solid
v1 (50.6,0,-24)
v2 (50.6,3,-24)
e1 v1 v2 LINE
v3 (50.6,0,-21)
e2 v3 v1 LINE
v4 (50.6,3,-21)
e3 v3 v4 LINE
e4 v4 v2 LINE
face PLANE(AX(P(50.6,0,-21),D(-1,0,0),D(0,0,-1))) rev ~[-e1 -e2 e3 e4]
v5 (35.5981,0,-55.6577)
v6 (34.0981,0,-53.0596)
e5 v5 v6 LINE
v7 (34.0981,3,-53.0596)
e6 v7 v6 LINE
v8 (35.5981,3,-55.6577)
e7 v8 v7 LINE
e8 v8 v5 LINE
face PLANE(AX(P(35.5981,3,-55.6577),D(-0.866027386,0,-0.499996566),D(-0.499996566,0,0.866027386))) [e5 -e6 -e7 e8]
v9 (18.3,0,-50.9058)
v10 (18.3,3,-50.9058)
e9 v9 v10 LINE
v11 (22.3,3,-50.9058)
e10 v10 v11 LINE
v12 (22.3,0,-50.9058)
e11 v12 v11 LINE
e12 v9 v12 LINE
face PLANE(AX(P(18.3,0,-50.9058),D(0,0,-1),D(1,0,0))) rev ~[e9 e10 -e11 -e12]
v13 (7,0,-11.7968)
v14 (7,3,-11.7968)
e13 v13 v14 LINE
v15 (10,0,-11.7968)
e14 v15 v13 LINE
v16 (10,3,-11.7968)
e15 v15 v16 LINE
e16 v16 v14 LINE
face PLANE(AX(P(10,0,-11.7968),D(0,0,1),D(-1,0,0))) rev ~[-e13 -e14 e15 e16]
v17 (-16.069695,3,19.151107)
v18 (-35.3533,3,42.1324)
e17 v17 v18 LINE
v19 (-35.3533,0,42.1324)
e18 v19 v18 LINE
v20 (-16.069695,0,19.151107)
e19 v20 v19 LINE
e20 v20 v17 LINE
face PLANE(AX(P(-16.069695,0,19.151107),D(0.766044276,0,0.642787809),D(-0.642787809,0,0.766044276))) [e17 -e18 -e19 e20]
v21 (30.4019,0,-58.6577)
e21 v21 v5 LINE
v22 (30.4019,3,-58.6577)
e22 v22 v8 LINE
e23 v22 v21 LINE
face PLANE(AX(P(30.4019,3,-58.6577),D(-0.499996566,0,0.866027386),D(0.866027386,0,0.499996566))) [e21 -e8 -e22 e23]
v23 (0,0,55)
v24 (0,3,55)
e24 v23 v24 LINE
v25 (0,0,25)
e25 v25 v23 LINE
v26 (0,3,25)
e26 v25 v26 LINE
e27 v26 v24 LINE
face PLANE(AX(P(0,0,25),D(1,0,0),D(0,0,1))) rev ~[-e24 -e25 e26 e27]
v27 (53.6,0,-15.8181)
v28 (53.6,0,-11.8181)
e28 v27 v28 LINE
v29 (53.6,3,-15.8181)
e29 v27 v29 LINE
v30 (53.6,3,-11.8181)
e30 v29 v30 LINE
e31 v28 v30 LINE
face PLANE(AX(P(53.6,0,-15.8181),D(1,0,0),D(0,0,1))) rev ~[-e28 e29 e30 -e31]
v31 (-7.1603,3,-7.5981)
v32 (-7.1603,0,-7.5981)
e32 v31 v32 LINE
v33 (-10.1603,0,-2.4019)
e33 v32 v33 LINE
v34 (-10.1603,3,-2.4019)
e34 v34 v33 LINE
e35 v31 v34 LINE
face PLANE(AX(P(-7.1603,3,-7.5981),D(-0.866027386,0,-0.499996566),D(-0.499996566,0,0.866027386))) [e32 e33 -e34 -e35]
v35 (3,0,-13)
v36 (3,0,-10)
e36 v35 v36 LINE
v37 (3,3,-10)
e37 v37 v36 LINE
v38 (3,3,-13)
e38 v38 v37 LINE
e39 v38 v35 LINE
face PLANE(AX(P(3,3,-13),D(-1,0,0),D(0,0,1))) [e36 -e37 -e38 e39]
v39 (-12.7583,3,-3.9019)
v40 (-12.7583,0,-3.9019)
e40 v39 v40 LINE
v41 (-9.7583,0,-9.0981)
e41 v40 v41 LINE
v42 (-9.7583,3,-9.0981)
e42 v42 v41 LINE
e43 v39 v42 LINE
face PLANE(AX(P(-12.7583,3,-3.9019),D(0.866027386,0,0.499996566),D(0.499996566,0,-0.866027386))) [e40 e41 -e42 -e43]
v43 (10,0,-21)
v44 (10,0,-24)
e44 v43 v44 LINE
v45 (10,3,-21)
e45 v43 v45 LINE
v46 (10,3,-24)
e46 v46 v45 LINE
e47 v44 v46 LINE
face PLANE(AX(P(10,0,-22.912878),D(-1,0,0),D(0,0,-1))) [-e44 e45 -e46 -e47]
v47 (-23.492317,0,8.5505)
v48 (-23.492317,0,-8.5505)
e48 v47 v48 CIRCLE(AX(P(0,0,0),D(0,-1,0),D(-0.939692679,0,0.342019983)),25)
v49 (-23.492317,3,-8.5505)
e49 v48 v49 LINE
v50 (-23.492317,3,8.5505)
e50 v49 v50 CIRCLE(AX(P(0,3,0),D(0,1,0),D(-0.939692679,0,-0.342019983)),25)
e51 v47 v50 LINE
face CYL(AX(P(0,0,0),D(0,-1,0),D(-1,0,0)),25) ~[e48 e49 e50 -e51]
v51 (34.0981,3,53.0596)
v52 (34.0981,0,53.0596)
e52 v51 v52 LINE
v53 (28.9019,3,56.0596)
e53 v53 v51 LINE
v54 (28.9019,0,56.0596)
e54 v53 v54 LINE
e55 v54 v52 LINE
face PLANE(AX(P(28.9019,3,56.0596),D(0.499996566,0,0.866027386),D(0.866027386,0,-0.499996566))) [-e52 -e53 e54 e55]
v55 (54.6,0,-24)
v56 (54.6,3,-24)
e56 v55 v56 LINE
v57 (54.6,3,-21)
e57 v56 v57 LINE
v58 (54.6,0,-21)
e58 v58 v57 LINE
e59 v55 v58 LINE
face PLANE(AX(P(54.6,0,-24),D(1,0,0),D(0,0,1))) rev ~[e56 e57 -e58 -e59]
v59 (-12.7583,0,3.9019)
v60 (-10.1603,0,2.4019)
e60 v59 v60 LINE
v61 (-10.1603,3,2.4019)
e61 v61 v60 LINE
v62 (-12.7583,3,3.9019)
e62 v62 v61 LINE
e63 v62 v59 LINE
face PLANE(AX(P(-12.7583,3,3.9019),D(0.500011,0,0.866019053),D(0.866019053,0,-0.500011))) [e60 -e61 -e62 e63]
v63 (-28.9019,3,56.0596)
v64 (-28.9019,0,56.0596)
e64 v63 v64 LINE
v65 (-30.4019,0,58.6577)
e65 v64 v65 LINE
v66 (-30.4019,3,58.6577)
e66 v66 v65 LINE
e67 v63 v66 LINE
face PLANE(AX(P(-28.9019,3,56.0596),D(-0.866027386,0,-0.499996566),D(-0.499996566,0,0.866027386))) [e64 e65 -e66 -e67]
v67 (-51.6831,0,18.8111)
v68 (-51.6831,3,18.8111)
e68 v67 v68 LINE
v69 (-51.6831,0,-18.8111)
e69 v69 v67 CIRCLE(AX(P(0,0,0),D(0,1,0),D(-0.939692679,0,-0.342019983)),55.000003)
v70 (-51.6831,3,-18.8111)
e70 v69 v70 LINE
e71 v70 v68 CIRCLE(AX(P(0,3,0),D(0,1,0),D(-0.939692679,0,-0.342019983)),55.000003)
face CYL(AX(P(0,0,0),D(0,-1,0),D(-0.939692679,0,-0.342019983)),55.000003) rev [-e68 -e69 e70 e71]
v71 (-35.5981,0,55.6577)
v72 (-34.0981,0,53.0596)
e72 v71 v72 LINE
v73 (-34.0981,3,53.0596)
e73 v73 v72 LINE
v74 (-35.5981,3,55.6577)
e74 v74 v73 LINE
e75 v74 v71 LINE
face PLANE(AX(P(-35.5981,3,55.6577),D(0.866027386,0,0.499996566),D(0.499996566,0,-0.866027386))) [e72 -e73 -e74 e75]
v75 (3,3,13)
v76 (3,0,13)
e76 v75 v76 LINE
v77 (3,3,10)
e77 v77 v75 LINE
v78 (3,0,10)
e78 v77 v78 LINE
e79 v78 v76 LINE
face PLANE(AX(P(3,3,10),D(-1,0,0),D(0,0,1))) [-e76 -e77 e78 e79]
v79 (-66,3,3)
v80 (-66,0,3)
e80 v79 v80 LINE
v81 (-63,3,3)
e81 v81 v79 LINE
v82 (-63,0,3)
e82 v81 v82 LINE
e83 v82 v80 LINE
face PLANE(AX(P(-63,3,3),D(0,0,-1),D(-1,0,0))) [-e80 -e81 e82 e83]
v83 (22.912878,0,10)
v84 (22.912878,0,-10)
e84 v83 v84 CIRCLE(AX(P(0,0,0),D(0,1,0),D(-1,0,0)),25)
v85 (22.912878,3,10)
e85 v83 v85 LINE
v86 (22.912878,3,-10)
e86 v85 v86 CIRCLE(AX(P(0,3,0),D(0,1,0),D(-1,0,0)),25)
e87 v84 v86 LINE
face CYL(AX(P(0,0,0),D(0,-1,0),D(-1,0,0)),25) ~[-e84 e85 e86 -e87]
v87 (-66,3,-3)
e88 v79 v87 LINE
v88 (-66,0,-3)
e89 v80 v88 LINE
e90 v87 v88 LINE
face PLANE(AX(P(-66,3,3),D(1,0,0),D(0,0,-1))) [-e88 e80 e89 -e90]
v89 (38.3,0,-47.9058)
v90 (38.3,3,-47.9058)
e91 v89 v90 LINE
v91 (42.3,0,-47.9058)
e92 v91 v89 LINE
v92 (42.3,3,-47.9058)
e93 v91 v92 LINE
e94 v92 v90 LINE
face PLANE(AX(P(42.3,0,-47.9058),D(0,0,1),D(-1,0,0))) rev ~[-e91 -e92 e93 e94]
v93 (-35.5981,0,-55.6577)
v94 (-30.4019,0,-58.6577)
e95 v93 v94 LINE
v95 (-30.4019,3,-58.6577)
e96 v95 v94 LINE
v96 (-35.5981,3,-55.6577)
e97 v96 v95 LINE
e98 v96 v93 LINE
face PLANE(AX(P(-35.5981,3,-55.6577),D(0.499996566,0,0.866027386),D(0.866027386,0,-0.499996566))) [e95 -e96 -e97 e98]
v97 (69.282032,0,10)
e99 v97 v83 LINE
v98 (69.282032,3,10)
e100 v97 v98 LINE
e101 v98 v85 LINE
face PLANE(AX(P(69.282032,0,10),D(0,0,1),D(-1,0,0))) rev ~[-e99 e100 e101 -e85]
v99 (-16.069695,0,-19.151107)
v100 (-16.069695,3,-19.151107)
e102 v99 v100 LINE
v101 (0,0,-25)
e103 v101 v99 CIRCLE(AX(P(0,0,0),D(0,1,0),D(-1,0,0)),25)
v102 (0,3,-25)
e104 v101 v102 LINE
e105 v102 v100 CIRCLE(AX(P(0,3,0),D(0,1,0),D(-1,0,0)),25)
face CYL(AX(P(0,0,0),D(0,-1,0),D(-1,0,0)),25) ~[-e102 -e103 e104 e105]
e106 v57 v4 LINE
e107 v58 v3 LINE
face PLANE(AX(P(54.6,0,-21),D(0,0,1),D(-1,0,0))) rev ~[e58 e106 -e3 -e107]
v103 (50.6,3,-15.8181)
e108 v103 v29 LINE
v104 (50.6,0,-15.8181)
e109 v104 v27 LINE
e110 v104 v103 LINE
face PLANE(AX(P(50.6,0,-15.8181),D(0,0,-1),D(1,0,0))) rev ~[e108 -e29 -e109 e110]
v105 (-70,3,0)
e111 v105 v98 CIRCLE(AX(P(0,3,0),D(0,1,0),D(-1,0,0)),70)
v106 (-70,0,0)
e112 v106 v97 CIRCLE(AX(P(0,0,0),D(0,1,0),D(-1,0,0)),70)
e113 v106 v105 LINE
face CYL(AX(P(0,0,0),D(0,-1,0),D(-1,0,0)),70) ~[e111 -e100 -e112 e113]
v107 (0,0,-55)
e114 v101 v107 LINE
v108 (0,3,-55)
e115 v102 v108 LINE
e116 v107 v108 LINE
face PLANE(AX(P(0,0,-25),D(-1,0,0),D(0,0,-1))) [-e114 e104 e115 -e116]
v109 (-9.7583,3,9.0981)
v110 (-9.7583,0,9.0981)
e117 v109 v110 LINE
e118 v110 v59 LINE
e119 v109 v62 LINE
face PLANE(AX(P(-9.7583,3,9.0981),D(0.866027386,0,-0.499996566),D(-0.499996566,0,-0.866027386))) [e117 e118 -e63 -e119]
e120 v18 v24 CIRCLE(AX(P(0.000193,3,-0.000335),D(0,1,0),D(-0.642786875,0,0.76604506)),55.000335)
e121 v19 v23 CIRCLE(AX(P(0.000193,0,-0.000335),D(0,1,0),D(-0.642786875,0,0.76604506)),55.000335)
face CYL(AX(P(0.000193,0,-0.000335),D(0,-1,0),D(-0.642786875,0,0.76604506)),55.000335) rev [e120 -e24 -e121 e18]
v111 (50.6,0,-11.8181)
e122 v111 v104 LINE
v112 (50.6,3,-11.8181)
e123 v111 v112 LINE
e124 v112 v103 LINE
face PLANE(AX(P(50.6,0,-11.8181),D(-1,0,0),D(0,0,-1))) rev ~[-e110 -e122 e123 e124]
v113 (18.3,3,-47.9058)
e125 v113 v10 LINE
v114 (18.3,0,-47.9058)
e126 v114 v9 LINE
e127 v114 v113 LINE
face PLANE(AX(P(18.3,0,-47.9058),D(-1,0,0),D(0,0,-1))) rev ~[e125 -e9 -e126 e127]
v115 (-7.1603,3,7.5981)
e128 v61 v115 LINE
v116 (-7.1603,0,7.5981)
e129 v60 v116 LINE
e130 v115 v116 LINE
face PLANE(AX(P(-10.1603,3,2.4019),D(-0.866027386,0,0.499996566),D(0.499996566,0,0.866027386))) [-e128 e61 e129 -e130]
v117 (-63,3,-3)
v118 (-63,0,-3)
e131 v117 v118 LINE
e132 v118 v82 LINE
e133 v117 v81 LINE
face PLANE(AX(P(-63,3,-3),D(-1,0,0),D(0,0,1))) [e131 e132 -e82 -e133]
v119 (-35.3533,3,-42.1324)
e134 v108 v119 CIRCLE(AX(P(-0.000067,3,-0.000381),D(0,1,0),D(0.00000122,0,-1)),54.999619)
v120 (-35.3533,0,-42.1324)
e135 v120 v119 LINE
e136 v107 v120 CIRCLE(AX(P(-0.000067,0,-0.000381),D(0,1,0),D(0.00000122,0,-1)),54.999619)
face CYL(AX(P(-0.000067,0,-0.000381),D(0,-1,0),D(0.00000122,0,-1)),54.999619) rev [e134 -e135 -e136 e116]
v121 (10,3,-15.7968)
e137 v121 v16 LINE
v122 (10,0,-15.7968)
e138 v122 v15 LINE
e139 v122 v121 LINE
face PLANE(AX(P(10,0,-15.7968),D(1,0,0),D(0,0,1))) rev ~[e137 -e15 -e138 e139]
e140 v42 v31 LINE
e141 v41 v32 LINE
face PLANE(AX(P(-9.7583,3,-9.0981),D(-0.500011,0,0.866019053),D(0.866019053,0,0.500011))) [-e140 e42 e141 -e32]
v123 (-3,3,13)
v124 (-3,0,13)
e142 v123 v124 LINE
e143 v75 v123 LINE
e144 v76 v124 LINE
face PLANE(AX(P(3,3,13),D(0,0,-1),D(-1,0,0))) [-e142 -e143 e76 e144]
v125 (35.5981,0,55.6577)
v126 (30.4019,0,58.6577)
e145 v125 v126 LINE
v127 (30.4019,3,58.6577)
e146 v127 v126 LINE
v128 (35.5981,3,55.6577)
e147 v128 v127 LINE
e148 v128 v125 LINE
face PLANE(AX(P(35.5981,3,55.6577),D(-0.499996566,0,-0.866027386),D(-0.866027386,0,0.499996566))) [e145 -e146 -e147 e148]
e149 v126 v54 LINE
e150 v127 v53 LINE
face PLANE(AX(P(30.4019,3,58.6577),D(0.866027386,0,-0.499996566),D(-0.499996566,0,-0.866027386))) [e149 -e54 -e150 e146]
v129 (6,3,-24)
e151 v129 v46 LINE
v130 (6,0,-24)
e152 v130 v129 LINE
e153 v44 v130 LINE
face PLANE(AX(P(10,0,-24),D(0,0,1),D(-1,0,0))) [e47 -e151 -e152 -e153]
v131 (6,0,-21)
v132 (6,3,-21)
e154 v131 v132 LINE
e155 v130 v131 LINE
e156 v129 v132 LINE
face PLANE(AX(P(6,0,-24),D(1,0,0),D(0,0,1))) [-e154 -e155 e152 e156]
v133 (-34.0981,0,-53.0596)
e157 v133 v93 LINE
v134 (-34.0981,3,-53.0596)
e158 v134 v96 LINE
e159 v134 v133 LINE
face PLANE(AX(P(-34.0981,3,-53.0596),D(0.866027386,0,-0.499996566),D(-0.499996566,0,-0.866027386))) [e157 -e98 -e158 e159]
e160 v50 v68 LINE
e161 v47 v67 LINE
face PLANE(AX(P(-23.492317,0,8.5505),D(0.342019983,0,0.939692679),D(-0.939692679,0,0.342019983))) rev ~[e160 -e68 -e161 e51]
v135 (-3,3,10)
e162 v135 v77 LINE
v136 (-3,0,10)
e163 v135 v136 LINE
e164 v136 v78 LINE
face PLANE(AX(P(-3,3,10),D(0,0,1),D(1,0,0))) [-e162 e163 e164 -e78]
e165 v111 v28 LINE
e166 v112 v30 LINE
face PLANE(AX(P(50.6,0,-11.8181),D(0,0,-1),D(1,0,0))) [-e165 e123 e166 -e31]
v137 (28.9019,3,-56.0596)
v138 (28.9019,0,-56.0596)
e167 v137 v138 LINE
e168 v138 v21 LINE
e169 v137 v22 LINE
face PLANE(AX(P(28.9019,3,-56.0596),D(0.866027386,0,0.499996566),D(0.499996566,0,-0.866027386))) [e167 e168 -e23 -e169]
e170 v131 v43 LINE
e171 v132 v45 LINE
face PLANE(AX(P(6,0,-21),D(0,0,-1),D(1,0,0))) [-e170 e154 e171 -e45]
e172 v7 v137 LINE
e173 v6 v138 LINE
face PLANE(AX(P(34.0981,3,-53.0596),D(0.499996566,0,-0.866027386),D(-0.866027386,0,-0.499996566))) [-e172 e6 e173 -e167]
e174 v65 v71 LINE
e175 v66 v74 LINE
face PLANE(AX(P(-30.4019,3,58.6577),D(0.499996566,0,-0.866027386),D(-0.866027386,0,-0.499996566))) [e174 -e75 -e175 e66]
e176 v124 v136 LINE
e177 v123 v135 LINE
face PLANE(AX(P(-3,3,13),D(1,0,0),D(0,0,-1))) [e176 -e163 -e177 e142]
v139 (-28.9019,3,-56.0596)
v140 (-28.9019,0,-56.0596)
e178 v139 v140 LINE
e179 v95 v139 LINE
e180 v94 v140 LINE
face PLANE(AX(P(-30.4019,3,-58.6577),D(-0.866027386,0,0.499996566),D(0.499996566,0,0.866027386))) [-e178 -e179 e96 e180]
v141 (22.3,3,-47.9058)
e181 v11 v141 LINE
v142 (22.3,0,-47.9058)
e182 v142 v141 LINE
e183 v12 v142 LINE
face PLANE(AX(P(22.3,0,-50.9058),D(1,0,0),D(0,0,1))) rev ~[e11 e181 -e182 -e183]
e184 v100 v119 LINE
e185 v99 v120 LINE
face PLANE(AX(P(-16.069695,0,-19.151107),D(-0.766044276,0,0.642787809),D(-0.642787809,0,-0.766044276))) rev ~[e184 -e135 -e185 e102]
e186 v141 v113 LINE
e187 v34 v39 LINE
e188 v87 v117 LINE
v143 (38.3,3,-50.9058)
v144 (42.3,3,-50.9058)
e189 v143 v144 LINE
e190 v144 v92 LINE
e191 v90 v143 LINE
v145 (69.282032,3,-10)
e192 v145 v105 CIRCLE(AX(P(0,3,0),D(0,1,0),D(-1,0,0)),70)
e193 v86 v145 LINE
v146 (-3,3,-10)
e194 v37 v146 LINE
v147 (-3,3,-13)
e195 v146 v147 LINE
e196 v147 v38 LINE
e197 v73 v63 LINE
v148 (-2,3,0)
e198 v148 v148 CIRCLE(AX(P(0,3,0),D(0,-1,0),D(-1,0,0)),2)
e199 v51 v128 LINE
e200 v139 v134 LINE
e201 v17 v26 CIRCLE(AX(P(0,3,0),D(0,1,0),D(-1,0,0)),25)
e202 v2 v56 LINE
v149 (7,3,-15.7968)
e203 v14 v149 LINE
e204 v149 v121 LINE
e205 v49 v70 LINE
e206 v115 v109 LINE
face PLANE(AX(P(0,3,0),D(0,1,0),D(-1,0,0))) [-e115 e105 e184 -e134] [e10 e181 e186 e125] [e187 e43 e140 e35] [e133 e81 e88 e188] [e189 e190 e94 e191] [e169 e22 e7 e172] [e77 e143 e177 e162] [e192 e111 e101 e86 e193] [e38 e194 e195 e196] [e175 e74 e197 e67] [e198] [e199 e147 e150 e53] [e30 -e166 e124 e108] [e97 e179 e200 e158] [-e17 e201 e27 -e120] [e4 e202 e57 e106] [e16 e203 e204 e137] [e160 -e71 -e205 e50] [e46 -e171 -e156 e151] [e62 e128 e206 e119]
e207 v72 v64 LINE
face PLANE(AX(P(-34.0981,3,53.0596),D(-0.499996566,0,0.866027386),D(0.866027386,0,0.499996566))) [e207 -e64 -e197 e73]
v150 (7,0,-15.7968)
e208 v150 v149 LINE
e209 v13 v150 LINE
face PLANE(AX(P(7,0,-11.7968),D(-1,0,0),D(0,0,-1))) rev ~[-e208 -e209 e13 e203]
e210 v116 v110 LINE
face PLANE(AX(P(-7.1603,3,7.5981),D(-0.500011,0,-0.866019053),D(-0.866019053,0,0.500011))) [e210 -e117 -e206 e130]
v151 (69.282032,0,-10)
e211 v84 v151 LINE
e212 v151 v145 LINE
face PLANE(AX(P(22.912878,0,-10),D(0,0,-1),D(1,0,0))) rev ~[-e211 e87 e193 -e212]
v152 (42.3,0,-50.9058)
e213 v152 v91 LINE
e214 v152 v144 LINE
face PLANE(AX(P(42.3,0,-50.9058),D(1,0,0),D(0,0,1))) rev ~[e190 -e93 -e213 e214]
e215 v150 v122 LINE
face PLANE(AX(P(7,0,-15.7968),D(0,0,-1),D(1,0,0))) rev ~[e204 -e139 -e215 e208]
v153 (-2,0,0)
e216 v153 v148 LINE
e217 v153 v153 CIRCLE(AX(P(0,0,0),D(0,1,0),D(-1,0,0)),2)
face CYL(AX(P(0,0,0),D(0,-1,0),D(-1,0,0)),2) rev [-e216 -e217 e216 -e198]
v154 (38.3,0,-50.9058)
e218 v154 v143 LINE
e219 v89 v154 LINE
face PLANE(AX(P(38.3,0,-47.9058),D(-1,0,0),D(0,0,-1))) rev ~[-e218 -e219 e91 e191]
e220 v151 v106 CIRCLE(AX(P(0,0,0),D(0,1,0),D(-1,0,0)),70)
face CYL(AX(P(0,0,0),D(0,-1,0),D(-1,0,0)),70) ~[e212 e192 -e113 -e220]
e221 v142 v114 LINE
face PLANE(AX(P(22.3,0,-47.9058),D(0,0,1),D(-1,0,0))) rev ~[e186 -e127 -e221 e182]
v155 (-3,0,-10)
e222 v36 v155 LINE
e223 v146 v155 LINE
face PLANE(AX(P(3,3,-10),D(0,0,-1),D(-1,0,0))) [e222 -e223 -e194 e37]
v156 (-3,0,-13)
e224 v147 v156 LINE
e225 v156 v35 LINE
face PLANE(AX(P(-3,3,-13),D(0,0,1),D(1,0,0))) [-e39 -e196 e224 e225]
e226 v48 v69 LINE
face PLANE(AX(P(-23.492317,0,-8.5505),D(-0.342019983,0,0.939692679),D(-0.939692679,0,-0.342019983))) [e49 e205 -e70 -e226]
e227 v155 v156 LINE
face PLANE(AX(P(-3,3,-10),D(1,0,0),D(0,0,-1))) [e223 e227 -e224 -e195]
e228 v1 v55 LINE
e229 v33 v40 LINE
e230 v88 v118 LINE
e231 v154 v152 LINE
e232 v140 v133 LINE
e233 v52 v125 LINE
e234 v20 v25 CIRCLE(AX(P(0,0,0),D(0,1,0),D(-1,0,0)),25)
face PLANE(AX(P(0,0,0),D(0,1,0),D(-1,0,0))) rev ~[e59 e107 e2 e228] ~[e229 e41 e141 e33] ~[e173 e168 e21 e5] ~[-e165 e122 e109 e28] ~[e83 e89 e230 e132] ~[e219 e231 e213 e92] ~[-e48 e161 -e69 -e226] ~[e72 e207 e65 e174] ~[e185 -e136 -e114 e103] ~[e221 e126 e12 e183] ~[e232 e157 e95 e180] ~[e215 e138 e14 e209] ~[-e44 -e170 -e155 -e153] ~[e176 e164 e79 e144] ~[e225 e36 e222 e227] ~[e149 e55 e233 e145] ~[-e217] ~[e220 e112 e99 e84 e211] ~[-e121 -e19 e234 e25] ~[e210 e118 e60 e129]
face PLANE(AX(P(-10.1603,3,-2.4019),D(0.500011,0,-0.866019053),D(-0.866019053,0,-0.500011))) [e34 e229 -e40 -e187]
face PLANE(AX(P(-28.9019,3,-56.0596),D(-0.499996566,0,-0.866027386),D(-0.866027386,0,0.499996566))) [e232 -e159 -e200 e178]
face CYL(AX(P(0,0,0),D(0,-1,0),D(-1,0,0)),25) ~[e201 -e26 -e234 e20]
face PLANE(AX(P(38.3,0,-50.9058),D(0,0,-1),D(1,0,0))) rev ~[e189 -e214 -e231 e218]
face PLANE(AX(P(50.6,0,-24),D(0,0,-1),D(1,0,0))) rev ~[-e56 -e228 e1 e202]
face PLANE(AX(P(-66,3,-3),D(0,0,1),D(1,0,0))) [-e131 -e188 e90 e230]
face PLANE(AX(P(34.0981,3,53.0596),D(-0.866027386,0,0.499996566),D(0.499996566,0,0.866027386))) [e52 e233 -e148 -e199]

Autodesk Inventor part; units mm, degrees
ref_plane "YZ Plane" through (0, 0, 0) normal (1, 0, 0) x (0, 1, 0)
ref_plane "XZ Plane" through (0, 0, 0) normal (0, 1, 0) x (-1, 0, 0)
ref_plane "XY Plane" through (0, 0, 0) normal (0, 0, 1) x (1, 0, 0)
sketch "草圖1" plane through (0, 0, 0) normal (0, 1, 0) x (-1, 0, 0)
  circle A0 centre (0, 0) radius 70
  circle A1 centre (0, 0) radius 25
  line L0 (-70, 10) -> (-10, 10)
  line L1 (-10, 10) -> (-10, -10)
  line L2 (-10, -10) -> (-70, -10)
  line L3 (-70, -10) -> (-70, 10)
  line L4 (0, 0) -> (0, -55)
  line L5 (0, 0) -> (35.3533, -42.1324)
  arc A2 (0, -55) -> (35.3533, -42.1324) centre (0, 0) ccw
  line L6 (0, 0) -> (51.6831, -18.8111)
  line L7 (0, 0) -> (51.6831, 18.8111)
  arc A3 (51.6831, -18.8111) -> (51.6831, 18.8111) centre (0, 0) ccw
  line L8 (0, 0) -> (35.3533, 42.1324)
  line L9 (0, 0) -> (0, 55)
  arc A4 (35.3533, 42.1324) -> (0, 55) centre (0, 0) ccw
  circle A5 centre (0, 0) radius 2
  line L10 (-1.5, 1.3229) -> (-1.5, -1.3229)
  line L11 (-53.6, -11.7755) -> (-50.6, -11.7755)
  line L12 (-10, -11.7968) -> (-7, -11.7968)
  line L13 (-50.6, -11.8181) -> (-50.6, -15.8181)
  line L14 (-50.6, -15.8181) -> (-53.6, -15.8181)
  line L15 (-53.6, -15.8181) -> (-53.6, -11.8181)
  line L16 (-7, -11.7968) -> (-7, -15.7968)
  line L17 (-7, -15.7968) -> (-10, -15.7968)
  line L18 (-10, -15.7968) -> (-10, -11.7968)
  line L19 (-42.3, -47.9058) -> (-38.3, -47.9058)
  line L20 (-38.3, -47.9058) -> (-38.3, -50.9058)
  line L21 (-38.3, -50.9058) -> (-42.3, -50.9058)
  line L22 (-42.3, -50.9058) -> (-42.3, -47.9058)
  line L23 (-22.3, -47.9058) -> (-18.3, -47.9058)
  line L24 (-18.3, -47.9058) -> (-18.3, -50.9058)
  line L25 (-18.3, -50.9058) -> (-22.3, -50.9058)
  line L26 (-22.3, -50.9058) -> (-22.3, -47.9058)
  line L27 (-10, -10) -> (-10, -11.349)
  line L28 (-50.6, -11.8181) -> (-53.6, -11.8181)
  line L29 (-53.6, -11.8181) -> (-53.6, -15.8181)
  line L30 (-50.6, -15.8181) -> (-50.6, -11.8181)
  line L31 (-4, -24) -> (-4, -21) construction
  line L32 (-10, -21) -> (-6, -21) construction
  line L33 (-6, -21) -> (-4, -21) construction
  line L34 (-6, -24) -> (-4, -24) construction
  line L35 (-10, -24) -> (-6, -24) construction
  line L36 (-12, -24) -> (-12, -21) construction
  line L37 (-6, -21) -> (-10, -21)
  line L38 (-10, -21) -> (-10, -24)
  line L39 (-10, -24) -> (-6, -24)
  line L40 (-6, -24) -> (-6, -21)
  line L41 (-50.6, -24) -> (-54.6, -24)
  line L42 (-54.6, -24) -> (-54.6, -21)
  line L43 (-54.6, -21) -> (-50.6, -21)
  line L44 (-50.6, -21) -> (-50.6, -24)
  line L45 (-10, -16.4) -> (-10, -21)
  point P0 (-23, -10)
  point P1 (16.0697, -19.1511)
  point P2 (0, -25)
  point P3 (-69.282, 10)
  point P4 (-69.282, -10)
  point P5 (16.0697, 19.1511)
  point P6 (0, 25)
  point P7 (23.4923, -8.5505)
  point P8 (23.4923, 8.5505)
  point P9 (-70, 0)
  point P10 (-10, 0)
  point P11 (-23, -7)
  point P12 (-52.6, -24)
  point P13 (-8, -24)
  point P14 (-22.9129, 10)
  point P15 (-22.9129, -10)
  dimension "d0" = 140
  dimension "d1" = 50
  dimension "d2" = 20
  dimension "d3" = 60
  dimension "d5" = 40
  dimension "d6" = 55
  dimension "d9" = 140
  dimension "d28" = 4
  dimension "d29" = 1.5
  dimension "d32" = 13
  dimension "d57" = 1.349
  dimension "d58" = 40.6
  dimension "d59" = 4.6
extrude "擠出1" add sketch "草圖1" along normal blind 3 contours A0 L2 A1 L38 L39 L4 A2 L5 L6 A3 L7 L8 A4 L9 L0 | L0 L1 L2 A1 | A1 L9 A5 L4 L39 L40 L37 L38 L2 L1 L0 | A1 L8 A5 L9 | A1 L7 A5 L8 | A1 L6 A5 L7 | L4 A5 L5 A1 | A5 L6 A1 L5
sketch "草圖2" plane through (0, 3, 0) normal (0, 1, 0) x (1, 0, 0)
  line L0 (-3, 13) -> (3, 13)
  line L1 (3, 13) -> (3, 10)
  line L2 (3, 10) -> (-3, 10)
  line L3 (-3, 10) -> (-3, 13)
  line L4 (-12.7583, 3.9019) -> (-9.7583, 9.0981)
  line L5 (-9.7583, 9.0981) -> (-7.1603, 7.5981)
  line L6 (-7.1603, 7.5981) -> (-10.1603, 2.4019)
  line L7 (-10.1603, 2.4019) -> (-12.7583, 3.9019)
  line L8 (-9.7583, -9.0981) -> (-12.7583, -3.9019)
  line L9 (-12.7583, -3.9019) -> (-10.1603, -2.4019)
  line L10 (-10.1603, -2.4019) -> (-7.1603, -7.5981)
  line L11 (-7.1603, -7.5981) -> (-9.7583, -9.0981)
  line L12 (3, -13) -> (-3, -13)
  line L13 (-3, -13) -> (-3, -10)
  line L14 (-3, -10) -> (3, -10)
  line L15 (3, -10) -> (3, -13)
  line L16 (-66, 3) -> (-63, 3)
  line L17 (-63, 3) -> (-63, -3)
  line L18 (-63, -3) -> (-66, -3)
  line L19 (-66, -3) -> (-66, 3)
  line L20 (-34.0981, -53.0596) -> (-28.9019, -56.0596)
  line L21 (-28.9019, -56.0596) -> (-30.4019, -58.6577)
  line L22 (-30.4019, -58.6577) -> (-35.5981, -55.6577)
  line L23 (-35.5981, -55.6577) -> (-34.0981, -53.0596)
  line L24 (28.9019, -56.0596) -> (34.0981, -53.0596)
  line L25 (34.0981, -53.0596) -> (35.5981, -55.6577)
  line L26 (35.5981, -55.6577) -> (30.4019, -58.6577)
  line L27 (30.4019, -58.6577) -> (28.9019, -56.0596)
  line L28 (63, -3) -> (63, 3)
  line L29 (63, 3) -> (66, 3)
  line L30 (66, 3) -> (66, -3)
  line L31 (66, -3) -> (63, -3)
  line L32 (34.0981, 53.0596) -> (28.9019, 56.0596)
  line L33 (28.9019, 56.0596) -> (30.4019, 58.6577)
  line L34 (30.4019, 58.6577) -> (35.5981, 55.6577)
  line L35 (35.5981, 55.6577) -> (34.0981, 53.0596)
  line L36 (-28.9019, 56.0596) -> (-34.0981, 53.0596)
  line L37 (-34.0981, 53.0596) -> (-35.5981, 55.6577)
  line L38 (-35.5981, 55.6577) -> (-30.4019, 58.6577)
  line L39 (-30.4019, 58.6577) -> (-28.9019, 56.0596)
  point P0 (0, 0)
  point P1 (0, 10)
  point P2 (-8.6603, 5)
  point P3 (-8.6603, -5)
  point P4 (0, -10)
  point P5 (-63, 0)
  point P6 (-31.5, -54.5596)
  point P7 (31.5, -54.5596)
  point P8 (63, 0)
  point P9 (31.5, 54.5596)
  point P10 (-31.5, 54.5596)
  dimension "d33" = 3
  dimension "d34" = 6
  dimension "d35" = 10
  dimension "d38" = 180
  dimension "d49" = 3
  dimension "d50" = 6
  dimension "d51" = 63
  dimension "d54" = 360
extrude "擠出2" cut sketch "草圖2" against normal through all contours L0 L1 L2 L3 | L4 L5 L6 L7 | L8 L9 L10 L11 | L12 L13 L14 L15 | L16 L17 L18 L19 | L20 L21 L22 L23 | L24 L25 L26 L27 | L32 L33 L34 L35 | L36 L37 L38 L39
